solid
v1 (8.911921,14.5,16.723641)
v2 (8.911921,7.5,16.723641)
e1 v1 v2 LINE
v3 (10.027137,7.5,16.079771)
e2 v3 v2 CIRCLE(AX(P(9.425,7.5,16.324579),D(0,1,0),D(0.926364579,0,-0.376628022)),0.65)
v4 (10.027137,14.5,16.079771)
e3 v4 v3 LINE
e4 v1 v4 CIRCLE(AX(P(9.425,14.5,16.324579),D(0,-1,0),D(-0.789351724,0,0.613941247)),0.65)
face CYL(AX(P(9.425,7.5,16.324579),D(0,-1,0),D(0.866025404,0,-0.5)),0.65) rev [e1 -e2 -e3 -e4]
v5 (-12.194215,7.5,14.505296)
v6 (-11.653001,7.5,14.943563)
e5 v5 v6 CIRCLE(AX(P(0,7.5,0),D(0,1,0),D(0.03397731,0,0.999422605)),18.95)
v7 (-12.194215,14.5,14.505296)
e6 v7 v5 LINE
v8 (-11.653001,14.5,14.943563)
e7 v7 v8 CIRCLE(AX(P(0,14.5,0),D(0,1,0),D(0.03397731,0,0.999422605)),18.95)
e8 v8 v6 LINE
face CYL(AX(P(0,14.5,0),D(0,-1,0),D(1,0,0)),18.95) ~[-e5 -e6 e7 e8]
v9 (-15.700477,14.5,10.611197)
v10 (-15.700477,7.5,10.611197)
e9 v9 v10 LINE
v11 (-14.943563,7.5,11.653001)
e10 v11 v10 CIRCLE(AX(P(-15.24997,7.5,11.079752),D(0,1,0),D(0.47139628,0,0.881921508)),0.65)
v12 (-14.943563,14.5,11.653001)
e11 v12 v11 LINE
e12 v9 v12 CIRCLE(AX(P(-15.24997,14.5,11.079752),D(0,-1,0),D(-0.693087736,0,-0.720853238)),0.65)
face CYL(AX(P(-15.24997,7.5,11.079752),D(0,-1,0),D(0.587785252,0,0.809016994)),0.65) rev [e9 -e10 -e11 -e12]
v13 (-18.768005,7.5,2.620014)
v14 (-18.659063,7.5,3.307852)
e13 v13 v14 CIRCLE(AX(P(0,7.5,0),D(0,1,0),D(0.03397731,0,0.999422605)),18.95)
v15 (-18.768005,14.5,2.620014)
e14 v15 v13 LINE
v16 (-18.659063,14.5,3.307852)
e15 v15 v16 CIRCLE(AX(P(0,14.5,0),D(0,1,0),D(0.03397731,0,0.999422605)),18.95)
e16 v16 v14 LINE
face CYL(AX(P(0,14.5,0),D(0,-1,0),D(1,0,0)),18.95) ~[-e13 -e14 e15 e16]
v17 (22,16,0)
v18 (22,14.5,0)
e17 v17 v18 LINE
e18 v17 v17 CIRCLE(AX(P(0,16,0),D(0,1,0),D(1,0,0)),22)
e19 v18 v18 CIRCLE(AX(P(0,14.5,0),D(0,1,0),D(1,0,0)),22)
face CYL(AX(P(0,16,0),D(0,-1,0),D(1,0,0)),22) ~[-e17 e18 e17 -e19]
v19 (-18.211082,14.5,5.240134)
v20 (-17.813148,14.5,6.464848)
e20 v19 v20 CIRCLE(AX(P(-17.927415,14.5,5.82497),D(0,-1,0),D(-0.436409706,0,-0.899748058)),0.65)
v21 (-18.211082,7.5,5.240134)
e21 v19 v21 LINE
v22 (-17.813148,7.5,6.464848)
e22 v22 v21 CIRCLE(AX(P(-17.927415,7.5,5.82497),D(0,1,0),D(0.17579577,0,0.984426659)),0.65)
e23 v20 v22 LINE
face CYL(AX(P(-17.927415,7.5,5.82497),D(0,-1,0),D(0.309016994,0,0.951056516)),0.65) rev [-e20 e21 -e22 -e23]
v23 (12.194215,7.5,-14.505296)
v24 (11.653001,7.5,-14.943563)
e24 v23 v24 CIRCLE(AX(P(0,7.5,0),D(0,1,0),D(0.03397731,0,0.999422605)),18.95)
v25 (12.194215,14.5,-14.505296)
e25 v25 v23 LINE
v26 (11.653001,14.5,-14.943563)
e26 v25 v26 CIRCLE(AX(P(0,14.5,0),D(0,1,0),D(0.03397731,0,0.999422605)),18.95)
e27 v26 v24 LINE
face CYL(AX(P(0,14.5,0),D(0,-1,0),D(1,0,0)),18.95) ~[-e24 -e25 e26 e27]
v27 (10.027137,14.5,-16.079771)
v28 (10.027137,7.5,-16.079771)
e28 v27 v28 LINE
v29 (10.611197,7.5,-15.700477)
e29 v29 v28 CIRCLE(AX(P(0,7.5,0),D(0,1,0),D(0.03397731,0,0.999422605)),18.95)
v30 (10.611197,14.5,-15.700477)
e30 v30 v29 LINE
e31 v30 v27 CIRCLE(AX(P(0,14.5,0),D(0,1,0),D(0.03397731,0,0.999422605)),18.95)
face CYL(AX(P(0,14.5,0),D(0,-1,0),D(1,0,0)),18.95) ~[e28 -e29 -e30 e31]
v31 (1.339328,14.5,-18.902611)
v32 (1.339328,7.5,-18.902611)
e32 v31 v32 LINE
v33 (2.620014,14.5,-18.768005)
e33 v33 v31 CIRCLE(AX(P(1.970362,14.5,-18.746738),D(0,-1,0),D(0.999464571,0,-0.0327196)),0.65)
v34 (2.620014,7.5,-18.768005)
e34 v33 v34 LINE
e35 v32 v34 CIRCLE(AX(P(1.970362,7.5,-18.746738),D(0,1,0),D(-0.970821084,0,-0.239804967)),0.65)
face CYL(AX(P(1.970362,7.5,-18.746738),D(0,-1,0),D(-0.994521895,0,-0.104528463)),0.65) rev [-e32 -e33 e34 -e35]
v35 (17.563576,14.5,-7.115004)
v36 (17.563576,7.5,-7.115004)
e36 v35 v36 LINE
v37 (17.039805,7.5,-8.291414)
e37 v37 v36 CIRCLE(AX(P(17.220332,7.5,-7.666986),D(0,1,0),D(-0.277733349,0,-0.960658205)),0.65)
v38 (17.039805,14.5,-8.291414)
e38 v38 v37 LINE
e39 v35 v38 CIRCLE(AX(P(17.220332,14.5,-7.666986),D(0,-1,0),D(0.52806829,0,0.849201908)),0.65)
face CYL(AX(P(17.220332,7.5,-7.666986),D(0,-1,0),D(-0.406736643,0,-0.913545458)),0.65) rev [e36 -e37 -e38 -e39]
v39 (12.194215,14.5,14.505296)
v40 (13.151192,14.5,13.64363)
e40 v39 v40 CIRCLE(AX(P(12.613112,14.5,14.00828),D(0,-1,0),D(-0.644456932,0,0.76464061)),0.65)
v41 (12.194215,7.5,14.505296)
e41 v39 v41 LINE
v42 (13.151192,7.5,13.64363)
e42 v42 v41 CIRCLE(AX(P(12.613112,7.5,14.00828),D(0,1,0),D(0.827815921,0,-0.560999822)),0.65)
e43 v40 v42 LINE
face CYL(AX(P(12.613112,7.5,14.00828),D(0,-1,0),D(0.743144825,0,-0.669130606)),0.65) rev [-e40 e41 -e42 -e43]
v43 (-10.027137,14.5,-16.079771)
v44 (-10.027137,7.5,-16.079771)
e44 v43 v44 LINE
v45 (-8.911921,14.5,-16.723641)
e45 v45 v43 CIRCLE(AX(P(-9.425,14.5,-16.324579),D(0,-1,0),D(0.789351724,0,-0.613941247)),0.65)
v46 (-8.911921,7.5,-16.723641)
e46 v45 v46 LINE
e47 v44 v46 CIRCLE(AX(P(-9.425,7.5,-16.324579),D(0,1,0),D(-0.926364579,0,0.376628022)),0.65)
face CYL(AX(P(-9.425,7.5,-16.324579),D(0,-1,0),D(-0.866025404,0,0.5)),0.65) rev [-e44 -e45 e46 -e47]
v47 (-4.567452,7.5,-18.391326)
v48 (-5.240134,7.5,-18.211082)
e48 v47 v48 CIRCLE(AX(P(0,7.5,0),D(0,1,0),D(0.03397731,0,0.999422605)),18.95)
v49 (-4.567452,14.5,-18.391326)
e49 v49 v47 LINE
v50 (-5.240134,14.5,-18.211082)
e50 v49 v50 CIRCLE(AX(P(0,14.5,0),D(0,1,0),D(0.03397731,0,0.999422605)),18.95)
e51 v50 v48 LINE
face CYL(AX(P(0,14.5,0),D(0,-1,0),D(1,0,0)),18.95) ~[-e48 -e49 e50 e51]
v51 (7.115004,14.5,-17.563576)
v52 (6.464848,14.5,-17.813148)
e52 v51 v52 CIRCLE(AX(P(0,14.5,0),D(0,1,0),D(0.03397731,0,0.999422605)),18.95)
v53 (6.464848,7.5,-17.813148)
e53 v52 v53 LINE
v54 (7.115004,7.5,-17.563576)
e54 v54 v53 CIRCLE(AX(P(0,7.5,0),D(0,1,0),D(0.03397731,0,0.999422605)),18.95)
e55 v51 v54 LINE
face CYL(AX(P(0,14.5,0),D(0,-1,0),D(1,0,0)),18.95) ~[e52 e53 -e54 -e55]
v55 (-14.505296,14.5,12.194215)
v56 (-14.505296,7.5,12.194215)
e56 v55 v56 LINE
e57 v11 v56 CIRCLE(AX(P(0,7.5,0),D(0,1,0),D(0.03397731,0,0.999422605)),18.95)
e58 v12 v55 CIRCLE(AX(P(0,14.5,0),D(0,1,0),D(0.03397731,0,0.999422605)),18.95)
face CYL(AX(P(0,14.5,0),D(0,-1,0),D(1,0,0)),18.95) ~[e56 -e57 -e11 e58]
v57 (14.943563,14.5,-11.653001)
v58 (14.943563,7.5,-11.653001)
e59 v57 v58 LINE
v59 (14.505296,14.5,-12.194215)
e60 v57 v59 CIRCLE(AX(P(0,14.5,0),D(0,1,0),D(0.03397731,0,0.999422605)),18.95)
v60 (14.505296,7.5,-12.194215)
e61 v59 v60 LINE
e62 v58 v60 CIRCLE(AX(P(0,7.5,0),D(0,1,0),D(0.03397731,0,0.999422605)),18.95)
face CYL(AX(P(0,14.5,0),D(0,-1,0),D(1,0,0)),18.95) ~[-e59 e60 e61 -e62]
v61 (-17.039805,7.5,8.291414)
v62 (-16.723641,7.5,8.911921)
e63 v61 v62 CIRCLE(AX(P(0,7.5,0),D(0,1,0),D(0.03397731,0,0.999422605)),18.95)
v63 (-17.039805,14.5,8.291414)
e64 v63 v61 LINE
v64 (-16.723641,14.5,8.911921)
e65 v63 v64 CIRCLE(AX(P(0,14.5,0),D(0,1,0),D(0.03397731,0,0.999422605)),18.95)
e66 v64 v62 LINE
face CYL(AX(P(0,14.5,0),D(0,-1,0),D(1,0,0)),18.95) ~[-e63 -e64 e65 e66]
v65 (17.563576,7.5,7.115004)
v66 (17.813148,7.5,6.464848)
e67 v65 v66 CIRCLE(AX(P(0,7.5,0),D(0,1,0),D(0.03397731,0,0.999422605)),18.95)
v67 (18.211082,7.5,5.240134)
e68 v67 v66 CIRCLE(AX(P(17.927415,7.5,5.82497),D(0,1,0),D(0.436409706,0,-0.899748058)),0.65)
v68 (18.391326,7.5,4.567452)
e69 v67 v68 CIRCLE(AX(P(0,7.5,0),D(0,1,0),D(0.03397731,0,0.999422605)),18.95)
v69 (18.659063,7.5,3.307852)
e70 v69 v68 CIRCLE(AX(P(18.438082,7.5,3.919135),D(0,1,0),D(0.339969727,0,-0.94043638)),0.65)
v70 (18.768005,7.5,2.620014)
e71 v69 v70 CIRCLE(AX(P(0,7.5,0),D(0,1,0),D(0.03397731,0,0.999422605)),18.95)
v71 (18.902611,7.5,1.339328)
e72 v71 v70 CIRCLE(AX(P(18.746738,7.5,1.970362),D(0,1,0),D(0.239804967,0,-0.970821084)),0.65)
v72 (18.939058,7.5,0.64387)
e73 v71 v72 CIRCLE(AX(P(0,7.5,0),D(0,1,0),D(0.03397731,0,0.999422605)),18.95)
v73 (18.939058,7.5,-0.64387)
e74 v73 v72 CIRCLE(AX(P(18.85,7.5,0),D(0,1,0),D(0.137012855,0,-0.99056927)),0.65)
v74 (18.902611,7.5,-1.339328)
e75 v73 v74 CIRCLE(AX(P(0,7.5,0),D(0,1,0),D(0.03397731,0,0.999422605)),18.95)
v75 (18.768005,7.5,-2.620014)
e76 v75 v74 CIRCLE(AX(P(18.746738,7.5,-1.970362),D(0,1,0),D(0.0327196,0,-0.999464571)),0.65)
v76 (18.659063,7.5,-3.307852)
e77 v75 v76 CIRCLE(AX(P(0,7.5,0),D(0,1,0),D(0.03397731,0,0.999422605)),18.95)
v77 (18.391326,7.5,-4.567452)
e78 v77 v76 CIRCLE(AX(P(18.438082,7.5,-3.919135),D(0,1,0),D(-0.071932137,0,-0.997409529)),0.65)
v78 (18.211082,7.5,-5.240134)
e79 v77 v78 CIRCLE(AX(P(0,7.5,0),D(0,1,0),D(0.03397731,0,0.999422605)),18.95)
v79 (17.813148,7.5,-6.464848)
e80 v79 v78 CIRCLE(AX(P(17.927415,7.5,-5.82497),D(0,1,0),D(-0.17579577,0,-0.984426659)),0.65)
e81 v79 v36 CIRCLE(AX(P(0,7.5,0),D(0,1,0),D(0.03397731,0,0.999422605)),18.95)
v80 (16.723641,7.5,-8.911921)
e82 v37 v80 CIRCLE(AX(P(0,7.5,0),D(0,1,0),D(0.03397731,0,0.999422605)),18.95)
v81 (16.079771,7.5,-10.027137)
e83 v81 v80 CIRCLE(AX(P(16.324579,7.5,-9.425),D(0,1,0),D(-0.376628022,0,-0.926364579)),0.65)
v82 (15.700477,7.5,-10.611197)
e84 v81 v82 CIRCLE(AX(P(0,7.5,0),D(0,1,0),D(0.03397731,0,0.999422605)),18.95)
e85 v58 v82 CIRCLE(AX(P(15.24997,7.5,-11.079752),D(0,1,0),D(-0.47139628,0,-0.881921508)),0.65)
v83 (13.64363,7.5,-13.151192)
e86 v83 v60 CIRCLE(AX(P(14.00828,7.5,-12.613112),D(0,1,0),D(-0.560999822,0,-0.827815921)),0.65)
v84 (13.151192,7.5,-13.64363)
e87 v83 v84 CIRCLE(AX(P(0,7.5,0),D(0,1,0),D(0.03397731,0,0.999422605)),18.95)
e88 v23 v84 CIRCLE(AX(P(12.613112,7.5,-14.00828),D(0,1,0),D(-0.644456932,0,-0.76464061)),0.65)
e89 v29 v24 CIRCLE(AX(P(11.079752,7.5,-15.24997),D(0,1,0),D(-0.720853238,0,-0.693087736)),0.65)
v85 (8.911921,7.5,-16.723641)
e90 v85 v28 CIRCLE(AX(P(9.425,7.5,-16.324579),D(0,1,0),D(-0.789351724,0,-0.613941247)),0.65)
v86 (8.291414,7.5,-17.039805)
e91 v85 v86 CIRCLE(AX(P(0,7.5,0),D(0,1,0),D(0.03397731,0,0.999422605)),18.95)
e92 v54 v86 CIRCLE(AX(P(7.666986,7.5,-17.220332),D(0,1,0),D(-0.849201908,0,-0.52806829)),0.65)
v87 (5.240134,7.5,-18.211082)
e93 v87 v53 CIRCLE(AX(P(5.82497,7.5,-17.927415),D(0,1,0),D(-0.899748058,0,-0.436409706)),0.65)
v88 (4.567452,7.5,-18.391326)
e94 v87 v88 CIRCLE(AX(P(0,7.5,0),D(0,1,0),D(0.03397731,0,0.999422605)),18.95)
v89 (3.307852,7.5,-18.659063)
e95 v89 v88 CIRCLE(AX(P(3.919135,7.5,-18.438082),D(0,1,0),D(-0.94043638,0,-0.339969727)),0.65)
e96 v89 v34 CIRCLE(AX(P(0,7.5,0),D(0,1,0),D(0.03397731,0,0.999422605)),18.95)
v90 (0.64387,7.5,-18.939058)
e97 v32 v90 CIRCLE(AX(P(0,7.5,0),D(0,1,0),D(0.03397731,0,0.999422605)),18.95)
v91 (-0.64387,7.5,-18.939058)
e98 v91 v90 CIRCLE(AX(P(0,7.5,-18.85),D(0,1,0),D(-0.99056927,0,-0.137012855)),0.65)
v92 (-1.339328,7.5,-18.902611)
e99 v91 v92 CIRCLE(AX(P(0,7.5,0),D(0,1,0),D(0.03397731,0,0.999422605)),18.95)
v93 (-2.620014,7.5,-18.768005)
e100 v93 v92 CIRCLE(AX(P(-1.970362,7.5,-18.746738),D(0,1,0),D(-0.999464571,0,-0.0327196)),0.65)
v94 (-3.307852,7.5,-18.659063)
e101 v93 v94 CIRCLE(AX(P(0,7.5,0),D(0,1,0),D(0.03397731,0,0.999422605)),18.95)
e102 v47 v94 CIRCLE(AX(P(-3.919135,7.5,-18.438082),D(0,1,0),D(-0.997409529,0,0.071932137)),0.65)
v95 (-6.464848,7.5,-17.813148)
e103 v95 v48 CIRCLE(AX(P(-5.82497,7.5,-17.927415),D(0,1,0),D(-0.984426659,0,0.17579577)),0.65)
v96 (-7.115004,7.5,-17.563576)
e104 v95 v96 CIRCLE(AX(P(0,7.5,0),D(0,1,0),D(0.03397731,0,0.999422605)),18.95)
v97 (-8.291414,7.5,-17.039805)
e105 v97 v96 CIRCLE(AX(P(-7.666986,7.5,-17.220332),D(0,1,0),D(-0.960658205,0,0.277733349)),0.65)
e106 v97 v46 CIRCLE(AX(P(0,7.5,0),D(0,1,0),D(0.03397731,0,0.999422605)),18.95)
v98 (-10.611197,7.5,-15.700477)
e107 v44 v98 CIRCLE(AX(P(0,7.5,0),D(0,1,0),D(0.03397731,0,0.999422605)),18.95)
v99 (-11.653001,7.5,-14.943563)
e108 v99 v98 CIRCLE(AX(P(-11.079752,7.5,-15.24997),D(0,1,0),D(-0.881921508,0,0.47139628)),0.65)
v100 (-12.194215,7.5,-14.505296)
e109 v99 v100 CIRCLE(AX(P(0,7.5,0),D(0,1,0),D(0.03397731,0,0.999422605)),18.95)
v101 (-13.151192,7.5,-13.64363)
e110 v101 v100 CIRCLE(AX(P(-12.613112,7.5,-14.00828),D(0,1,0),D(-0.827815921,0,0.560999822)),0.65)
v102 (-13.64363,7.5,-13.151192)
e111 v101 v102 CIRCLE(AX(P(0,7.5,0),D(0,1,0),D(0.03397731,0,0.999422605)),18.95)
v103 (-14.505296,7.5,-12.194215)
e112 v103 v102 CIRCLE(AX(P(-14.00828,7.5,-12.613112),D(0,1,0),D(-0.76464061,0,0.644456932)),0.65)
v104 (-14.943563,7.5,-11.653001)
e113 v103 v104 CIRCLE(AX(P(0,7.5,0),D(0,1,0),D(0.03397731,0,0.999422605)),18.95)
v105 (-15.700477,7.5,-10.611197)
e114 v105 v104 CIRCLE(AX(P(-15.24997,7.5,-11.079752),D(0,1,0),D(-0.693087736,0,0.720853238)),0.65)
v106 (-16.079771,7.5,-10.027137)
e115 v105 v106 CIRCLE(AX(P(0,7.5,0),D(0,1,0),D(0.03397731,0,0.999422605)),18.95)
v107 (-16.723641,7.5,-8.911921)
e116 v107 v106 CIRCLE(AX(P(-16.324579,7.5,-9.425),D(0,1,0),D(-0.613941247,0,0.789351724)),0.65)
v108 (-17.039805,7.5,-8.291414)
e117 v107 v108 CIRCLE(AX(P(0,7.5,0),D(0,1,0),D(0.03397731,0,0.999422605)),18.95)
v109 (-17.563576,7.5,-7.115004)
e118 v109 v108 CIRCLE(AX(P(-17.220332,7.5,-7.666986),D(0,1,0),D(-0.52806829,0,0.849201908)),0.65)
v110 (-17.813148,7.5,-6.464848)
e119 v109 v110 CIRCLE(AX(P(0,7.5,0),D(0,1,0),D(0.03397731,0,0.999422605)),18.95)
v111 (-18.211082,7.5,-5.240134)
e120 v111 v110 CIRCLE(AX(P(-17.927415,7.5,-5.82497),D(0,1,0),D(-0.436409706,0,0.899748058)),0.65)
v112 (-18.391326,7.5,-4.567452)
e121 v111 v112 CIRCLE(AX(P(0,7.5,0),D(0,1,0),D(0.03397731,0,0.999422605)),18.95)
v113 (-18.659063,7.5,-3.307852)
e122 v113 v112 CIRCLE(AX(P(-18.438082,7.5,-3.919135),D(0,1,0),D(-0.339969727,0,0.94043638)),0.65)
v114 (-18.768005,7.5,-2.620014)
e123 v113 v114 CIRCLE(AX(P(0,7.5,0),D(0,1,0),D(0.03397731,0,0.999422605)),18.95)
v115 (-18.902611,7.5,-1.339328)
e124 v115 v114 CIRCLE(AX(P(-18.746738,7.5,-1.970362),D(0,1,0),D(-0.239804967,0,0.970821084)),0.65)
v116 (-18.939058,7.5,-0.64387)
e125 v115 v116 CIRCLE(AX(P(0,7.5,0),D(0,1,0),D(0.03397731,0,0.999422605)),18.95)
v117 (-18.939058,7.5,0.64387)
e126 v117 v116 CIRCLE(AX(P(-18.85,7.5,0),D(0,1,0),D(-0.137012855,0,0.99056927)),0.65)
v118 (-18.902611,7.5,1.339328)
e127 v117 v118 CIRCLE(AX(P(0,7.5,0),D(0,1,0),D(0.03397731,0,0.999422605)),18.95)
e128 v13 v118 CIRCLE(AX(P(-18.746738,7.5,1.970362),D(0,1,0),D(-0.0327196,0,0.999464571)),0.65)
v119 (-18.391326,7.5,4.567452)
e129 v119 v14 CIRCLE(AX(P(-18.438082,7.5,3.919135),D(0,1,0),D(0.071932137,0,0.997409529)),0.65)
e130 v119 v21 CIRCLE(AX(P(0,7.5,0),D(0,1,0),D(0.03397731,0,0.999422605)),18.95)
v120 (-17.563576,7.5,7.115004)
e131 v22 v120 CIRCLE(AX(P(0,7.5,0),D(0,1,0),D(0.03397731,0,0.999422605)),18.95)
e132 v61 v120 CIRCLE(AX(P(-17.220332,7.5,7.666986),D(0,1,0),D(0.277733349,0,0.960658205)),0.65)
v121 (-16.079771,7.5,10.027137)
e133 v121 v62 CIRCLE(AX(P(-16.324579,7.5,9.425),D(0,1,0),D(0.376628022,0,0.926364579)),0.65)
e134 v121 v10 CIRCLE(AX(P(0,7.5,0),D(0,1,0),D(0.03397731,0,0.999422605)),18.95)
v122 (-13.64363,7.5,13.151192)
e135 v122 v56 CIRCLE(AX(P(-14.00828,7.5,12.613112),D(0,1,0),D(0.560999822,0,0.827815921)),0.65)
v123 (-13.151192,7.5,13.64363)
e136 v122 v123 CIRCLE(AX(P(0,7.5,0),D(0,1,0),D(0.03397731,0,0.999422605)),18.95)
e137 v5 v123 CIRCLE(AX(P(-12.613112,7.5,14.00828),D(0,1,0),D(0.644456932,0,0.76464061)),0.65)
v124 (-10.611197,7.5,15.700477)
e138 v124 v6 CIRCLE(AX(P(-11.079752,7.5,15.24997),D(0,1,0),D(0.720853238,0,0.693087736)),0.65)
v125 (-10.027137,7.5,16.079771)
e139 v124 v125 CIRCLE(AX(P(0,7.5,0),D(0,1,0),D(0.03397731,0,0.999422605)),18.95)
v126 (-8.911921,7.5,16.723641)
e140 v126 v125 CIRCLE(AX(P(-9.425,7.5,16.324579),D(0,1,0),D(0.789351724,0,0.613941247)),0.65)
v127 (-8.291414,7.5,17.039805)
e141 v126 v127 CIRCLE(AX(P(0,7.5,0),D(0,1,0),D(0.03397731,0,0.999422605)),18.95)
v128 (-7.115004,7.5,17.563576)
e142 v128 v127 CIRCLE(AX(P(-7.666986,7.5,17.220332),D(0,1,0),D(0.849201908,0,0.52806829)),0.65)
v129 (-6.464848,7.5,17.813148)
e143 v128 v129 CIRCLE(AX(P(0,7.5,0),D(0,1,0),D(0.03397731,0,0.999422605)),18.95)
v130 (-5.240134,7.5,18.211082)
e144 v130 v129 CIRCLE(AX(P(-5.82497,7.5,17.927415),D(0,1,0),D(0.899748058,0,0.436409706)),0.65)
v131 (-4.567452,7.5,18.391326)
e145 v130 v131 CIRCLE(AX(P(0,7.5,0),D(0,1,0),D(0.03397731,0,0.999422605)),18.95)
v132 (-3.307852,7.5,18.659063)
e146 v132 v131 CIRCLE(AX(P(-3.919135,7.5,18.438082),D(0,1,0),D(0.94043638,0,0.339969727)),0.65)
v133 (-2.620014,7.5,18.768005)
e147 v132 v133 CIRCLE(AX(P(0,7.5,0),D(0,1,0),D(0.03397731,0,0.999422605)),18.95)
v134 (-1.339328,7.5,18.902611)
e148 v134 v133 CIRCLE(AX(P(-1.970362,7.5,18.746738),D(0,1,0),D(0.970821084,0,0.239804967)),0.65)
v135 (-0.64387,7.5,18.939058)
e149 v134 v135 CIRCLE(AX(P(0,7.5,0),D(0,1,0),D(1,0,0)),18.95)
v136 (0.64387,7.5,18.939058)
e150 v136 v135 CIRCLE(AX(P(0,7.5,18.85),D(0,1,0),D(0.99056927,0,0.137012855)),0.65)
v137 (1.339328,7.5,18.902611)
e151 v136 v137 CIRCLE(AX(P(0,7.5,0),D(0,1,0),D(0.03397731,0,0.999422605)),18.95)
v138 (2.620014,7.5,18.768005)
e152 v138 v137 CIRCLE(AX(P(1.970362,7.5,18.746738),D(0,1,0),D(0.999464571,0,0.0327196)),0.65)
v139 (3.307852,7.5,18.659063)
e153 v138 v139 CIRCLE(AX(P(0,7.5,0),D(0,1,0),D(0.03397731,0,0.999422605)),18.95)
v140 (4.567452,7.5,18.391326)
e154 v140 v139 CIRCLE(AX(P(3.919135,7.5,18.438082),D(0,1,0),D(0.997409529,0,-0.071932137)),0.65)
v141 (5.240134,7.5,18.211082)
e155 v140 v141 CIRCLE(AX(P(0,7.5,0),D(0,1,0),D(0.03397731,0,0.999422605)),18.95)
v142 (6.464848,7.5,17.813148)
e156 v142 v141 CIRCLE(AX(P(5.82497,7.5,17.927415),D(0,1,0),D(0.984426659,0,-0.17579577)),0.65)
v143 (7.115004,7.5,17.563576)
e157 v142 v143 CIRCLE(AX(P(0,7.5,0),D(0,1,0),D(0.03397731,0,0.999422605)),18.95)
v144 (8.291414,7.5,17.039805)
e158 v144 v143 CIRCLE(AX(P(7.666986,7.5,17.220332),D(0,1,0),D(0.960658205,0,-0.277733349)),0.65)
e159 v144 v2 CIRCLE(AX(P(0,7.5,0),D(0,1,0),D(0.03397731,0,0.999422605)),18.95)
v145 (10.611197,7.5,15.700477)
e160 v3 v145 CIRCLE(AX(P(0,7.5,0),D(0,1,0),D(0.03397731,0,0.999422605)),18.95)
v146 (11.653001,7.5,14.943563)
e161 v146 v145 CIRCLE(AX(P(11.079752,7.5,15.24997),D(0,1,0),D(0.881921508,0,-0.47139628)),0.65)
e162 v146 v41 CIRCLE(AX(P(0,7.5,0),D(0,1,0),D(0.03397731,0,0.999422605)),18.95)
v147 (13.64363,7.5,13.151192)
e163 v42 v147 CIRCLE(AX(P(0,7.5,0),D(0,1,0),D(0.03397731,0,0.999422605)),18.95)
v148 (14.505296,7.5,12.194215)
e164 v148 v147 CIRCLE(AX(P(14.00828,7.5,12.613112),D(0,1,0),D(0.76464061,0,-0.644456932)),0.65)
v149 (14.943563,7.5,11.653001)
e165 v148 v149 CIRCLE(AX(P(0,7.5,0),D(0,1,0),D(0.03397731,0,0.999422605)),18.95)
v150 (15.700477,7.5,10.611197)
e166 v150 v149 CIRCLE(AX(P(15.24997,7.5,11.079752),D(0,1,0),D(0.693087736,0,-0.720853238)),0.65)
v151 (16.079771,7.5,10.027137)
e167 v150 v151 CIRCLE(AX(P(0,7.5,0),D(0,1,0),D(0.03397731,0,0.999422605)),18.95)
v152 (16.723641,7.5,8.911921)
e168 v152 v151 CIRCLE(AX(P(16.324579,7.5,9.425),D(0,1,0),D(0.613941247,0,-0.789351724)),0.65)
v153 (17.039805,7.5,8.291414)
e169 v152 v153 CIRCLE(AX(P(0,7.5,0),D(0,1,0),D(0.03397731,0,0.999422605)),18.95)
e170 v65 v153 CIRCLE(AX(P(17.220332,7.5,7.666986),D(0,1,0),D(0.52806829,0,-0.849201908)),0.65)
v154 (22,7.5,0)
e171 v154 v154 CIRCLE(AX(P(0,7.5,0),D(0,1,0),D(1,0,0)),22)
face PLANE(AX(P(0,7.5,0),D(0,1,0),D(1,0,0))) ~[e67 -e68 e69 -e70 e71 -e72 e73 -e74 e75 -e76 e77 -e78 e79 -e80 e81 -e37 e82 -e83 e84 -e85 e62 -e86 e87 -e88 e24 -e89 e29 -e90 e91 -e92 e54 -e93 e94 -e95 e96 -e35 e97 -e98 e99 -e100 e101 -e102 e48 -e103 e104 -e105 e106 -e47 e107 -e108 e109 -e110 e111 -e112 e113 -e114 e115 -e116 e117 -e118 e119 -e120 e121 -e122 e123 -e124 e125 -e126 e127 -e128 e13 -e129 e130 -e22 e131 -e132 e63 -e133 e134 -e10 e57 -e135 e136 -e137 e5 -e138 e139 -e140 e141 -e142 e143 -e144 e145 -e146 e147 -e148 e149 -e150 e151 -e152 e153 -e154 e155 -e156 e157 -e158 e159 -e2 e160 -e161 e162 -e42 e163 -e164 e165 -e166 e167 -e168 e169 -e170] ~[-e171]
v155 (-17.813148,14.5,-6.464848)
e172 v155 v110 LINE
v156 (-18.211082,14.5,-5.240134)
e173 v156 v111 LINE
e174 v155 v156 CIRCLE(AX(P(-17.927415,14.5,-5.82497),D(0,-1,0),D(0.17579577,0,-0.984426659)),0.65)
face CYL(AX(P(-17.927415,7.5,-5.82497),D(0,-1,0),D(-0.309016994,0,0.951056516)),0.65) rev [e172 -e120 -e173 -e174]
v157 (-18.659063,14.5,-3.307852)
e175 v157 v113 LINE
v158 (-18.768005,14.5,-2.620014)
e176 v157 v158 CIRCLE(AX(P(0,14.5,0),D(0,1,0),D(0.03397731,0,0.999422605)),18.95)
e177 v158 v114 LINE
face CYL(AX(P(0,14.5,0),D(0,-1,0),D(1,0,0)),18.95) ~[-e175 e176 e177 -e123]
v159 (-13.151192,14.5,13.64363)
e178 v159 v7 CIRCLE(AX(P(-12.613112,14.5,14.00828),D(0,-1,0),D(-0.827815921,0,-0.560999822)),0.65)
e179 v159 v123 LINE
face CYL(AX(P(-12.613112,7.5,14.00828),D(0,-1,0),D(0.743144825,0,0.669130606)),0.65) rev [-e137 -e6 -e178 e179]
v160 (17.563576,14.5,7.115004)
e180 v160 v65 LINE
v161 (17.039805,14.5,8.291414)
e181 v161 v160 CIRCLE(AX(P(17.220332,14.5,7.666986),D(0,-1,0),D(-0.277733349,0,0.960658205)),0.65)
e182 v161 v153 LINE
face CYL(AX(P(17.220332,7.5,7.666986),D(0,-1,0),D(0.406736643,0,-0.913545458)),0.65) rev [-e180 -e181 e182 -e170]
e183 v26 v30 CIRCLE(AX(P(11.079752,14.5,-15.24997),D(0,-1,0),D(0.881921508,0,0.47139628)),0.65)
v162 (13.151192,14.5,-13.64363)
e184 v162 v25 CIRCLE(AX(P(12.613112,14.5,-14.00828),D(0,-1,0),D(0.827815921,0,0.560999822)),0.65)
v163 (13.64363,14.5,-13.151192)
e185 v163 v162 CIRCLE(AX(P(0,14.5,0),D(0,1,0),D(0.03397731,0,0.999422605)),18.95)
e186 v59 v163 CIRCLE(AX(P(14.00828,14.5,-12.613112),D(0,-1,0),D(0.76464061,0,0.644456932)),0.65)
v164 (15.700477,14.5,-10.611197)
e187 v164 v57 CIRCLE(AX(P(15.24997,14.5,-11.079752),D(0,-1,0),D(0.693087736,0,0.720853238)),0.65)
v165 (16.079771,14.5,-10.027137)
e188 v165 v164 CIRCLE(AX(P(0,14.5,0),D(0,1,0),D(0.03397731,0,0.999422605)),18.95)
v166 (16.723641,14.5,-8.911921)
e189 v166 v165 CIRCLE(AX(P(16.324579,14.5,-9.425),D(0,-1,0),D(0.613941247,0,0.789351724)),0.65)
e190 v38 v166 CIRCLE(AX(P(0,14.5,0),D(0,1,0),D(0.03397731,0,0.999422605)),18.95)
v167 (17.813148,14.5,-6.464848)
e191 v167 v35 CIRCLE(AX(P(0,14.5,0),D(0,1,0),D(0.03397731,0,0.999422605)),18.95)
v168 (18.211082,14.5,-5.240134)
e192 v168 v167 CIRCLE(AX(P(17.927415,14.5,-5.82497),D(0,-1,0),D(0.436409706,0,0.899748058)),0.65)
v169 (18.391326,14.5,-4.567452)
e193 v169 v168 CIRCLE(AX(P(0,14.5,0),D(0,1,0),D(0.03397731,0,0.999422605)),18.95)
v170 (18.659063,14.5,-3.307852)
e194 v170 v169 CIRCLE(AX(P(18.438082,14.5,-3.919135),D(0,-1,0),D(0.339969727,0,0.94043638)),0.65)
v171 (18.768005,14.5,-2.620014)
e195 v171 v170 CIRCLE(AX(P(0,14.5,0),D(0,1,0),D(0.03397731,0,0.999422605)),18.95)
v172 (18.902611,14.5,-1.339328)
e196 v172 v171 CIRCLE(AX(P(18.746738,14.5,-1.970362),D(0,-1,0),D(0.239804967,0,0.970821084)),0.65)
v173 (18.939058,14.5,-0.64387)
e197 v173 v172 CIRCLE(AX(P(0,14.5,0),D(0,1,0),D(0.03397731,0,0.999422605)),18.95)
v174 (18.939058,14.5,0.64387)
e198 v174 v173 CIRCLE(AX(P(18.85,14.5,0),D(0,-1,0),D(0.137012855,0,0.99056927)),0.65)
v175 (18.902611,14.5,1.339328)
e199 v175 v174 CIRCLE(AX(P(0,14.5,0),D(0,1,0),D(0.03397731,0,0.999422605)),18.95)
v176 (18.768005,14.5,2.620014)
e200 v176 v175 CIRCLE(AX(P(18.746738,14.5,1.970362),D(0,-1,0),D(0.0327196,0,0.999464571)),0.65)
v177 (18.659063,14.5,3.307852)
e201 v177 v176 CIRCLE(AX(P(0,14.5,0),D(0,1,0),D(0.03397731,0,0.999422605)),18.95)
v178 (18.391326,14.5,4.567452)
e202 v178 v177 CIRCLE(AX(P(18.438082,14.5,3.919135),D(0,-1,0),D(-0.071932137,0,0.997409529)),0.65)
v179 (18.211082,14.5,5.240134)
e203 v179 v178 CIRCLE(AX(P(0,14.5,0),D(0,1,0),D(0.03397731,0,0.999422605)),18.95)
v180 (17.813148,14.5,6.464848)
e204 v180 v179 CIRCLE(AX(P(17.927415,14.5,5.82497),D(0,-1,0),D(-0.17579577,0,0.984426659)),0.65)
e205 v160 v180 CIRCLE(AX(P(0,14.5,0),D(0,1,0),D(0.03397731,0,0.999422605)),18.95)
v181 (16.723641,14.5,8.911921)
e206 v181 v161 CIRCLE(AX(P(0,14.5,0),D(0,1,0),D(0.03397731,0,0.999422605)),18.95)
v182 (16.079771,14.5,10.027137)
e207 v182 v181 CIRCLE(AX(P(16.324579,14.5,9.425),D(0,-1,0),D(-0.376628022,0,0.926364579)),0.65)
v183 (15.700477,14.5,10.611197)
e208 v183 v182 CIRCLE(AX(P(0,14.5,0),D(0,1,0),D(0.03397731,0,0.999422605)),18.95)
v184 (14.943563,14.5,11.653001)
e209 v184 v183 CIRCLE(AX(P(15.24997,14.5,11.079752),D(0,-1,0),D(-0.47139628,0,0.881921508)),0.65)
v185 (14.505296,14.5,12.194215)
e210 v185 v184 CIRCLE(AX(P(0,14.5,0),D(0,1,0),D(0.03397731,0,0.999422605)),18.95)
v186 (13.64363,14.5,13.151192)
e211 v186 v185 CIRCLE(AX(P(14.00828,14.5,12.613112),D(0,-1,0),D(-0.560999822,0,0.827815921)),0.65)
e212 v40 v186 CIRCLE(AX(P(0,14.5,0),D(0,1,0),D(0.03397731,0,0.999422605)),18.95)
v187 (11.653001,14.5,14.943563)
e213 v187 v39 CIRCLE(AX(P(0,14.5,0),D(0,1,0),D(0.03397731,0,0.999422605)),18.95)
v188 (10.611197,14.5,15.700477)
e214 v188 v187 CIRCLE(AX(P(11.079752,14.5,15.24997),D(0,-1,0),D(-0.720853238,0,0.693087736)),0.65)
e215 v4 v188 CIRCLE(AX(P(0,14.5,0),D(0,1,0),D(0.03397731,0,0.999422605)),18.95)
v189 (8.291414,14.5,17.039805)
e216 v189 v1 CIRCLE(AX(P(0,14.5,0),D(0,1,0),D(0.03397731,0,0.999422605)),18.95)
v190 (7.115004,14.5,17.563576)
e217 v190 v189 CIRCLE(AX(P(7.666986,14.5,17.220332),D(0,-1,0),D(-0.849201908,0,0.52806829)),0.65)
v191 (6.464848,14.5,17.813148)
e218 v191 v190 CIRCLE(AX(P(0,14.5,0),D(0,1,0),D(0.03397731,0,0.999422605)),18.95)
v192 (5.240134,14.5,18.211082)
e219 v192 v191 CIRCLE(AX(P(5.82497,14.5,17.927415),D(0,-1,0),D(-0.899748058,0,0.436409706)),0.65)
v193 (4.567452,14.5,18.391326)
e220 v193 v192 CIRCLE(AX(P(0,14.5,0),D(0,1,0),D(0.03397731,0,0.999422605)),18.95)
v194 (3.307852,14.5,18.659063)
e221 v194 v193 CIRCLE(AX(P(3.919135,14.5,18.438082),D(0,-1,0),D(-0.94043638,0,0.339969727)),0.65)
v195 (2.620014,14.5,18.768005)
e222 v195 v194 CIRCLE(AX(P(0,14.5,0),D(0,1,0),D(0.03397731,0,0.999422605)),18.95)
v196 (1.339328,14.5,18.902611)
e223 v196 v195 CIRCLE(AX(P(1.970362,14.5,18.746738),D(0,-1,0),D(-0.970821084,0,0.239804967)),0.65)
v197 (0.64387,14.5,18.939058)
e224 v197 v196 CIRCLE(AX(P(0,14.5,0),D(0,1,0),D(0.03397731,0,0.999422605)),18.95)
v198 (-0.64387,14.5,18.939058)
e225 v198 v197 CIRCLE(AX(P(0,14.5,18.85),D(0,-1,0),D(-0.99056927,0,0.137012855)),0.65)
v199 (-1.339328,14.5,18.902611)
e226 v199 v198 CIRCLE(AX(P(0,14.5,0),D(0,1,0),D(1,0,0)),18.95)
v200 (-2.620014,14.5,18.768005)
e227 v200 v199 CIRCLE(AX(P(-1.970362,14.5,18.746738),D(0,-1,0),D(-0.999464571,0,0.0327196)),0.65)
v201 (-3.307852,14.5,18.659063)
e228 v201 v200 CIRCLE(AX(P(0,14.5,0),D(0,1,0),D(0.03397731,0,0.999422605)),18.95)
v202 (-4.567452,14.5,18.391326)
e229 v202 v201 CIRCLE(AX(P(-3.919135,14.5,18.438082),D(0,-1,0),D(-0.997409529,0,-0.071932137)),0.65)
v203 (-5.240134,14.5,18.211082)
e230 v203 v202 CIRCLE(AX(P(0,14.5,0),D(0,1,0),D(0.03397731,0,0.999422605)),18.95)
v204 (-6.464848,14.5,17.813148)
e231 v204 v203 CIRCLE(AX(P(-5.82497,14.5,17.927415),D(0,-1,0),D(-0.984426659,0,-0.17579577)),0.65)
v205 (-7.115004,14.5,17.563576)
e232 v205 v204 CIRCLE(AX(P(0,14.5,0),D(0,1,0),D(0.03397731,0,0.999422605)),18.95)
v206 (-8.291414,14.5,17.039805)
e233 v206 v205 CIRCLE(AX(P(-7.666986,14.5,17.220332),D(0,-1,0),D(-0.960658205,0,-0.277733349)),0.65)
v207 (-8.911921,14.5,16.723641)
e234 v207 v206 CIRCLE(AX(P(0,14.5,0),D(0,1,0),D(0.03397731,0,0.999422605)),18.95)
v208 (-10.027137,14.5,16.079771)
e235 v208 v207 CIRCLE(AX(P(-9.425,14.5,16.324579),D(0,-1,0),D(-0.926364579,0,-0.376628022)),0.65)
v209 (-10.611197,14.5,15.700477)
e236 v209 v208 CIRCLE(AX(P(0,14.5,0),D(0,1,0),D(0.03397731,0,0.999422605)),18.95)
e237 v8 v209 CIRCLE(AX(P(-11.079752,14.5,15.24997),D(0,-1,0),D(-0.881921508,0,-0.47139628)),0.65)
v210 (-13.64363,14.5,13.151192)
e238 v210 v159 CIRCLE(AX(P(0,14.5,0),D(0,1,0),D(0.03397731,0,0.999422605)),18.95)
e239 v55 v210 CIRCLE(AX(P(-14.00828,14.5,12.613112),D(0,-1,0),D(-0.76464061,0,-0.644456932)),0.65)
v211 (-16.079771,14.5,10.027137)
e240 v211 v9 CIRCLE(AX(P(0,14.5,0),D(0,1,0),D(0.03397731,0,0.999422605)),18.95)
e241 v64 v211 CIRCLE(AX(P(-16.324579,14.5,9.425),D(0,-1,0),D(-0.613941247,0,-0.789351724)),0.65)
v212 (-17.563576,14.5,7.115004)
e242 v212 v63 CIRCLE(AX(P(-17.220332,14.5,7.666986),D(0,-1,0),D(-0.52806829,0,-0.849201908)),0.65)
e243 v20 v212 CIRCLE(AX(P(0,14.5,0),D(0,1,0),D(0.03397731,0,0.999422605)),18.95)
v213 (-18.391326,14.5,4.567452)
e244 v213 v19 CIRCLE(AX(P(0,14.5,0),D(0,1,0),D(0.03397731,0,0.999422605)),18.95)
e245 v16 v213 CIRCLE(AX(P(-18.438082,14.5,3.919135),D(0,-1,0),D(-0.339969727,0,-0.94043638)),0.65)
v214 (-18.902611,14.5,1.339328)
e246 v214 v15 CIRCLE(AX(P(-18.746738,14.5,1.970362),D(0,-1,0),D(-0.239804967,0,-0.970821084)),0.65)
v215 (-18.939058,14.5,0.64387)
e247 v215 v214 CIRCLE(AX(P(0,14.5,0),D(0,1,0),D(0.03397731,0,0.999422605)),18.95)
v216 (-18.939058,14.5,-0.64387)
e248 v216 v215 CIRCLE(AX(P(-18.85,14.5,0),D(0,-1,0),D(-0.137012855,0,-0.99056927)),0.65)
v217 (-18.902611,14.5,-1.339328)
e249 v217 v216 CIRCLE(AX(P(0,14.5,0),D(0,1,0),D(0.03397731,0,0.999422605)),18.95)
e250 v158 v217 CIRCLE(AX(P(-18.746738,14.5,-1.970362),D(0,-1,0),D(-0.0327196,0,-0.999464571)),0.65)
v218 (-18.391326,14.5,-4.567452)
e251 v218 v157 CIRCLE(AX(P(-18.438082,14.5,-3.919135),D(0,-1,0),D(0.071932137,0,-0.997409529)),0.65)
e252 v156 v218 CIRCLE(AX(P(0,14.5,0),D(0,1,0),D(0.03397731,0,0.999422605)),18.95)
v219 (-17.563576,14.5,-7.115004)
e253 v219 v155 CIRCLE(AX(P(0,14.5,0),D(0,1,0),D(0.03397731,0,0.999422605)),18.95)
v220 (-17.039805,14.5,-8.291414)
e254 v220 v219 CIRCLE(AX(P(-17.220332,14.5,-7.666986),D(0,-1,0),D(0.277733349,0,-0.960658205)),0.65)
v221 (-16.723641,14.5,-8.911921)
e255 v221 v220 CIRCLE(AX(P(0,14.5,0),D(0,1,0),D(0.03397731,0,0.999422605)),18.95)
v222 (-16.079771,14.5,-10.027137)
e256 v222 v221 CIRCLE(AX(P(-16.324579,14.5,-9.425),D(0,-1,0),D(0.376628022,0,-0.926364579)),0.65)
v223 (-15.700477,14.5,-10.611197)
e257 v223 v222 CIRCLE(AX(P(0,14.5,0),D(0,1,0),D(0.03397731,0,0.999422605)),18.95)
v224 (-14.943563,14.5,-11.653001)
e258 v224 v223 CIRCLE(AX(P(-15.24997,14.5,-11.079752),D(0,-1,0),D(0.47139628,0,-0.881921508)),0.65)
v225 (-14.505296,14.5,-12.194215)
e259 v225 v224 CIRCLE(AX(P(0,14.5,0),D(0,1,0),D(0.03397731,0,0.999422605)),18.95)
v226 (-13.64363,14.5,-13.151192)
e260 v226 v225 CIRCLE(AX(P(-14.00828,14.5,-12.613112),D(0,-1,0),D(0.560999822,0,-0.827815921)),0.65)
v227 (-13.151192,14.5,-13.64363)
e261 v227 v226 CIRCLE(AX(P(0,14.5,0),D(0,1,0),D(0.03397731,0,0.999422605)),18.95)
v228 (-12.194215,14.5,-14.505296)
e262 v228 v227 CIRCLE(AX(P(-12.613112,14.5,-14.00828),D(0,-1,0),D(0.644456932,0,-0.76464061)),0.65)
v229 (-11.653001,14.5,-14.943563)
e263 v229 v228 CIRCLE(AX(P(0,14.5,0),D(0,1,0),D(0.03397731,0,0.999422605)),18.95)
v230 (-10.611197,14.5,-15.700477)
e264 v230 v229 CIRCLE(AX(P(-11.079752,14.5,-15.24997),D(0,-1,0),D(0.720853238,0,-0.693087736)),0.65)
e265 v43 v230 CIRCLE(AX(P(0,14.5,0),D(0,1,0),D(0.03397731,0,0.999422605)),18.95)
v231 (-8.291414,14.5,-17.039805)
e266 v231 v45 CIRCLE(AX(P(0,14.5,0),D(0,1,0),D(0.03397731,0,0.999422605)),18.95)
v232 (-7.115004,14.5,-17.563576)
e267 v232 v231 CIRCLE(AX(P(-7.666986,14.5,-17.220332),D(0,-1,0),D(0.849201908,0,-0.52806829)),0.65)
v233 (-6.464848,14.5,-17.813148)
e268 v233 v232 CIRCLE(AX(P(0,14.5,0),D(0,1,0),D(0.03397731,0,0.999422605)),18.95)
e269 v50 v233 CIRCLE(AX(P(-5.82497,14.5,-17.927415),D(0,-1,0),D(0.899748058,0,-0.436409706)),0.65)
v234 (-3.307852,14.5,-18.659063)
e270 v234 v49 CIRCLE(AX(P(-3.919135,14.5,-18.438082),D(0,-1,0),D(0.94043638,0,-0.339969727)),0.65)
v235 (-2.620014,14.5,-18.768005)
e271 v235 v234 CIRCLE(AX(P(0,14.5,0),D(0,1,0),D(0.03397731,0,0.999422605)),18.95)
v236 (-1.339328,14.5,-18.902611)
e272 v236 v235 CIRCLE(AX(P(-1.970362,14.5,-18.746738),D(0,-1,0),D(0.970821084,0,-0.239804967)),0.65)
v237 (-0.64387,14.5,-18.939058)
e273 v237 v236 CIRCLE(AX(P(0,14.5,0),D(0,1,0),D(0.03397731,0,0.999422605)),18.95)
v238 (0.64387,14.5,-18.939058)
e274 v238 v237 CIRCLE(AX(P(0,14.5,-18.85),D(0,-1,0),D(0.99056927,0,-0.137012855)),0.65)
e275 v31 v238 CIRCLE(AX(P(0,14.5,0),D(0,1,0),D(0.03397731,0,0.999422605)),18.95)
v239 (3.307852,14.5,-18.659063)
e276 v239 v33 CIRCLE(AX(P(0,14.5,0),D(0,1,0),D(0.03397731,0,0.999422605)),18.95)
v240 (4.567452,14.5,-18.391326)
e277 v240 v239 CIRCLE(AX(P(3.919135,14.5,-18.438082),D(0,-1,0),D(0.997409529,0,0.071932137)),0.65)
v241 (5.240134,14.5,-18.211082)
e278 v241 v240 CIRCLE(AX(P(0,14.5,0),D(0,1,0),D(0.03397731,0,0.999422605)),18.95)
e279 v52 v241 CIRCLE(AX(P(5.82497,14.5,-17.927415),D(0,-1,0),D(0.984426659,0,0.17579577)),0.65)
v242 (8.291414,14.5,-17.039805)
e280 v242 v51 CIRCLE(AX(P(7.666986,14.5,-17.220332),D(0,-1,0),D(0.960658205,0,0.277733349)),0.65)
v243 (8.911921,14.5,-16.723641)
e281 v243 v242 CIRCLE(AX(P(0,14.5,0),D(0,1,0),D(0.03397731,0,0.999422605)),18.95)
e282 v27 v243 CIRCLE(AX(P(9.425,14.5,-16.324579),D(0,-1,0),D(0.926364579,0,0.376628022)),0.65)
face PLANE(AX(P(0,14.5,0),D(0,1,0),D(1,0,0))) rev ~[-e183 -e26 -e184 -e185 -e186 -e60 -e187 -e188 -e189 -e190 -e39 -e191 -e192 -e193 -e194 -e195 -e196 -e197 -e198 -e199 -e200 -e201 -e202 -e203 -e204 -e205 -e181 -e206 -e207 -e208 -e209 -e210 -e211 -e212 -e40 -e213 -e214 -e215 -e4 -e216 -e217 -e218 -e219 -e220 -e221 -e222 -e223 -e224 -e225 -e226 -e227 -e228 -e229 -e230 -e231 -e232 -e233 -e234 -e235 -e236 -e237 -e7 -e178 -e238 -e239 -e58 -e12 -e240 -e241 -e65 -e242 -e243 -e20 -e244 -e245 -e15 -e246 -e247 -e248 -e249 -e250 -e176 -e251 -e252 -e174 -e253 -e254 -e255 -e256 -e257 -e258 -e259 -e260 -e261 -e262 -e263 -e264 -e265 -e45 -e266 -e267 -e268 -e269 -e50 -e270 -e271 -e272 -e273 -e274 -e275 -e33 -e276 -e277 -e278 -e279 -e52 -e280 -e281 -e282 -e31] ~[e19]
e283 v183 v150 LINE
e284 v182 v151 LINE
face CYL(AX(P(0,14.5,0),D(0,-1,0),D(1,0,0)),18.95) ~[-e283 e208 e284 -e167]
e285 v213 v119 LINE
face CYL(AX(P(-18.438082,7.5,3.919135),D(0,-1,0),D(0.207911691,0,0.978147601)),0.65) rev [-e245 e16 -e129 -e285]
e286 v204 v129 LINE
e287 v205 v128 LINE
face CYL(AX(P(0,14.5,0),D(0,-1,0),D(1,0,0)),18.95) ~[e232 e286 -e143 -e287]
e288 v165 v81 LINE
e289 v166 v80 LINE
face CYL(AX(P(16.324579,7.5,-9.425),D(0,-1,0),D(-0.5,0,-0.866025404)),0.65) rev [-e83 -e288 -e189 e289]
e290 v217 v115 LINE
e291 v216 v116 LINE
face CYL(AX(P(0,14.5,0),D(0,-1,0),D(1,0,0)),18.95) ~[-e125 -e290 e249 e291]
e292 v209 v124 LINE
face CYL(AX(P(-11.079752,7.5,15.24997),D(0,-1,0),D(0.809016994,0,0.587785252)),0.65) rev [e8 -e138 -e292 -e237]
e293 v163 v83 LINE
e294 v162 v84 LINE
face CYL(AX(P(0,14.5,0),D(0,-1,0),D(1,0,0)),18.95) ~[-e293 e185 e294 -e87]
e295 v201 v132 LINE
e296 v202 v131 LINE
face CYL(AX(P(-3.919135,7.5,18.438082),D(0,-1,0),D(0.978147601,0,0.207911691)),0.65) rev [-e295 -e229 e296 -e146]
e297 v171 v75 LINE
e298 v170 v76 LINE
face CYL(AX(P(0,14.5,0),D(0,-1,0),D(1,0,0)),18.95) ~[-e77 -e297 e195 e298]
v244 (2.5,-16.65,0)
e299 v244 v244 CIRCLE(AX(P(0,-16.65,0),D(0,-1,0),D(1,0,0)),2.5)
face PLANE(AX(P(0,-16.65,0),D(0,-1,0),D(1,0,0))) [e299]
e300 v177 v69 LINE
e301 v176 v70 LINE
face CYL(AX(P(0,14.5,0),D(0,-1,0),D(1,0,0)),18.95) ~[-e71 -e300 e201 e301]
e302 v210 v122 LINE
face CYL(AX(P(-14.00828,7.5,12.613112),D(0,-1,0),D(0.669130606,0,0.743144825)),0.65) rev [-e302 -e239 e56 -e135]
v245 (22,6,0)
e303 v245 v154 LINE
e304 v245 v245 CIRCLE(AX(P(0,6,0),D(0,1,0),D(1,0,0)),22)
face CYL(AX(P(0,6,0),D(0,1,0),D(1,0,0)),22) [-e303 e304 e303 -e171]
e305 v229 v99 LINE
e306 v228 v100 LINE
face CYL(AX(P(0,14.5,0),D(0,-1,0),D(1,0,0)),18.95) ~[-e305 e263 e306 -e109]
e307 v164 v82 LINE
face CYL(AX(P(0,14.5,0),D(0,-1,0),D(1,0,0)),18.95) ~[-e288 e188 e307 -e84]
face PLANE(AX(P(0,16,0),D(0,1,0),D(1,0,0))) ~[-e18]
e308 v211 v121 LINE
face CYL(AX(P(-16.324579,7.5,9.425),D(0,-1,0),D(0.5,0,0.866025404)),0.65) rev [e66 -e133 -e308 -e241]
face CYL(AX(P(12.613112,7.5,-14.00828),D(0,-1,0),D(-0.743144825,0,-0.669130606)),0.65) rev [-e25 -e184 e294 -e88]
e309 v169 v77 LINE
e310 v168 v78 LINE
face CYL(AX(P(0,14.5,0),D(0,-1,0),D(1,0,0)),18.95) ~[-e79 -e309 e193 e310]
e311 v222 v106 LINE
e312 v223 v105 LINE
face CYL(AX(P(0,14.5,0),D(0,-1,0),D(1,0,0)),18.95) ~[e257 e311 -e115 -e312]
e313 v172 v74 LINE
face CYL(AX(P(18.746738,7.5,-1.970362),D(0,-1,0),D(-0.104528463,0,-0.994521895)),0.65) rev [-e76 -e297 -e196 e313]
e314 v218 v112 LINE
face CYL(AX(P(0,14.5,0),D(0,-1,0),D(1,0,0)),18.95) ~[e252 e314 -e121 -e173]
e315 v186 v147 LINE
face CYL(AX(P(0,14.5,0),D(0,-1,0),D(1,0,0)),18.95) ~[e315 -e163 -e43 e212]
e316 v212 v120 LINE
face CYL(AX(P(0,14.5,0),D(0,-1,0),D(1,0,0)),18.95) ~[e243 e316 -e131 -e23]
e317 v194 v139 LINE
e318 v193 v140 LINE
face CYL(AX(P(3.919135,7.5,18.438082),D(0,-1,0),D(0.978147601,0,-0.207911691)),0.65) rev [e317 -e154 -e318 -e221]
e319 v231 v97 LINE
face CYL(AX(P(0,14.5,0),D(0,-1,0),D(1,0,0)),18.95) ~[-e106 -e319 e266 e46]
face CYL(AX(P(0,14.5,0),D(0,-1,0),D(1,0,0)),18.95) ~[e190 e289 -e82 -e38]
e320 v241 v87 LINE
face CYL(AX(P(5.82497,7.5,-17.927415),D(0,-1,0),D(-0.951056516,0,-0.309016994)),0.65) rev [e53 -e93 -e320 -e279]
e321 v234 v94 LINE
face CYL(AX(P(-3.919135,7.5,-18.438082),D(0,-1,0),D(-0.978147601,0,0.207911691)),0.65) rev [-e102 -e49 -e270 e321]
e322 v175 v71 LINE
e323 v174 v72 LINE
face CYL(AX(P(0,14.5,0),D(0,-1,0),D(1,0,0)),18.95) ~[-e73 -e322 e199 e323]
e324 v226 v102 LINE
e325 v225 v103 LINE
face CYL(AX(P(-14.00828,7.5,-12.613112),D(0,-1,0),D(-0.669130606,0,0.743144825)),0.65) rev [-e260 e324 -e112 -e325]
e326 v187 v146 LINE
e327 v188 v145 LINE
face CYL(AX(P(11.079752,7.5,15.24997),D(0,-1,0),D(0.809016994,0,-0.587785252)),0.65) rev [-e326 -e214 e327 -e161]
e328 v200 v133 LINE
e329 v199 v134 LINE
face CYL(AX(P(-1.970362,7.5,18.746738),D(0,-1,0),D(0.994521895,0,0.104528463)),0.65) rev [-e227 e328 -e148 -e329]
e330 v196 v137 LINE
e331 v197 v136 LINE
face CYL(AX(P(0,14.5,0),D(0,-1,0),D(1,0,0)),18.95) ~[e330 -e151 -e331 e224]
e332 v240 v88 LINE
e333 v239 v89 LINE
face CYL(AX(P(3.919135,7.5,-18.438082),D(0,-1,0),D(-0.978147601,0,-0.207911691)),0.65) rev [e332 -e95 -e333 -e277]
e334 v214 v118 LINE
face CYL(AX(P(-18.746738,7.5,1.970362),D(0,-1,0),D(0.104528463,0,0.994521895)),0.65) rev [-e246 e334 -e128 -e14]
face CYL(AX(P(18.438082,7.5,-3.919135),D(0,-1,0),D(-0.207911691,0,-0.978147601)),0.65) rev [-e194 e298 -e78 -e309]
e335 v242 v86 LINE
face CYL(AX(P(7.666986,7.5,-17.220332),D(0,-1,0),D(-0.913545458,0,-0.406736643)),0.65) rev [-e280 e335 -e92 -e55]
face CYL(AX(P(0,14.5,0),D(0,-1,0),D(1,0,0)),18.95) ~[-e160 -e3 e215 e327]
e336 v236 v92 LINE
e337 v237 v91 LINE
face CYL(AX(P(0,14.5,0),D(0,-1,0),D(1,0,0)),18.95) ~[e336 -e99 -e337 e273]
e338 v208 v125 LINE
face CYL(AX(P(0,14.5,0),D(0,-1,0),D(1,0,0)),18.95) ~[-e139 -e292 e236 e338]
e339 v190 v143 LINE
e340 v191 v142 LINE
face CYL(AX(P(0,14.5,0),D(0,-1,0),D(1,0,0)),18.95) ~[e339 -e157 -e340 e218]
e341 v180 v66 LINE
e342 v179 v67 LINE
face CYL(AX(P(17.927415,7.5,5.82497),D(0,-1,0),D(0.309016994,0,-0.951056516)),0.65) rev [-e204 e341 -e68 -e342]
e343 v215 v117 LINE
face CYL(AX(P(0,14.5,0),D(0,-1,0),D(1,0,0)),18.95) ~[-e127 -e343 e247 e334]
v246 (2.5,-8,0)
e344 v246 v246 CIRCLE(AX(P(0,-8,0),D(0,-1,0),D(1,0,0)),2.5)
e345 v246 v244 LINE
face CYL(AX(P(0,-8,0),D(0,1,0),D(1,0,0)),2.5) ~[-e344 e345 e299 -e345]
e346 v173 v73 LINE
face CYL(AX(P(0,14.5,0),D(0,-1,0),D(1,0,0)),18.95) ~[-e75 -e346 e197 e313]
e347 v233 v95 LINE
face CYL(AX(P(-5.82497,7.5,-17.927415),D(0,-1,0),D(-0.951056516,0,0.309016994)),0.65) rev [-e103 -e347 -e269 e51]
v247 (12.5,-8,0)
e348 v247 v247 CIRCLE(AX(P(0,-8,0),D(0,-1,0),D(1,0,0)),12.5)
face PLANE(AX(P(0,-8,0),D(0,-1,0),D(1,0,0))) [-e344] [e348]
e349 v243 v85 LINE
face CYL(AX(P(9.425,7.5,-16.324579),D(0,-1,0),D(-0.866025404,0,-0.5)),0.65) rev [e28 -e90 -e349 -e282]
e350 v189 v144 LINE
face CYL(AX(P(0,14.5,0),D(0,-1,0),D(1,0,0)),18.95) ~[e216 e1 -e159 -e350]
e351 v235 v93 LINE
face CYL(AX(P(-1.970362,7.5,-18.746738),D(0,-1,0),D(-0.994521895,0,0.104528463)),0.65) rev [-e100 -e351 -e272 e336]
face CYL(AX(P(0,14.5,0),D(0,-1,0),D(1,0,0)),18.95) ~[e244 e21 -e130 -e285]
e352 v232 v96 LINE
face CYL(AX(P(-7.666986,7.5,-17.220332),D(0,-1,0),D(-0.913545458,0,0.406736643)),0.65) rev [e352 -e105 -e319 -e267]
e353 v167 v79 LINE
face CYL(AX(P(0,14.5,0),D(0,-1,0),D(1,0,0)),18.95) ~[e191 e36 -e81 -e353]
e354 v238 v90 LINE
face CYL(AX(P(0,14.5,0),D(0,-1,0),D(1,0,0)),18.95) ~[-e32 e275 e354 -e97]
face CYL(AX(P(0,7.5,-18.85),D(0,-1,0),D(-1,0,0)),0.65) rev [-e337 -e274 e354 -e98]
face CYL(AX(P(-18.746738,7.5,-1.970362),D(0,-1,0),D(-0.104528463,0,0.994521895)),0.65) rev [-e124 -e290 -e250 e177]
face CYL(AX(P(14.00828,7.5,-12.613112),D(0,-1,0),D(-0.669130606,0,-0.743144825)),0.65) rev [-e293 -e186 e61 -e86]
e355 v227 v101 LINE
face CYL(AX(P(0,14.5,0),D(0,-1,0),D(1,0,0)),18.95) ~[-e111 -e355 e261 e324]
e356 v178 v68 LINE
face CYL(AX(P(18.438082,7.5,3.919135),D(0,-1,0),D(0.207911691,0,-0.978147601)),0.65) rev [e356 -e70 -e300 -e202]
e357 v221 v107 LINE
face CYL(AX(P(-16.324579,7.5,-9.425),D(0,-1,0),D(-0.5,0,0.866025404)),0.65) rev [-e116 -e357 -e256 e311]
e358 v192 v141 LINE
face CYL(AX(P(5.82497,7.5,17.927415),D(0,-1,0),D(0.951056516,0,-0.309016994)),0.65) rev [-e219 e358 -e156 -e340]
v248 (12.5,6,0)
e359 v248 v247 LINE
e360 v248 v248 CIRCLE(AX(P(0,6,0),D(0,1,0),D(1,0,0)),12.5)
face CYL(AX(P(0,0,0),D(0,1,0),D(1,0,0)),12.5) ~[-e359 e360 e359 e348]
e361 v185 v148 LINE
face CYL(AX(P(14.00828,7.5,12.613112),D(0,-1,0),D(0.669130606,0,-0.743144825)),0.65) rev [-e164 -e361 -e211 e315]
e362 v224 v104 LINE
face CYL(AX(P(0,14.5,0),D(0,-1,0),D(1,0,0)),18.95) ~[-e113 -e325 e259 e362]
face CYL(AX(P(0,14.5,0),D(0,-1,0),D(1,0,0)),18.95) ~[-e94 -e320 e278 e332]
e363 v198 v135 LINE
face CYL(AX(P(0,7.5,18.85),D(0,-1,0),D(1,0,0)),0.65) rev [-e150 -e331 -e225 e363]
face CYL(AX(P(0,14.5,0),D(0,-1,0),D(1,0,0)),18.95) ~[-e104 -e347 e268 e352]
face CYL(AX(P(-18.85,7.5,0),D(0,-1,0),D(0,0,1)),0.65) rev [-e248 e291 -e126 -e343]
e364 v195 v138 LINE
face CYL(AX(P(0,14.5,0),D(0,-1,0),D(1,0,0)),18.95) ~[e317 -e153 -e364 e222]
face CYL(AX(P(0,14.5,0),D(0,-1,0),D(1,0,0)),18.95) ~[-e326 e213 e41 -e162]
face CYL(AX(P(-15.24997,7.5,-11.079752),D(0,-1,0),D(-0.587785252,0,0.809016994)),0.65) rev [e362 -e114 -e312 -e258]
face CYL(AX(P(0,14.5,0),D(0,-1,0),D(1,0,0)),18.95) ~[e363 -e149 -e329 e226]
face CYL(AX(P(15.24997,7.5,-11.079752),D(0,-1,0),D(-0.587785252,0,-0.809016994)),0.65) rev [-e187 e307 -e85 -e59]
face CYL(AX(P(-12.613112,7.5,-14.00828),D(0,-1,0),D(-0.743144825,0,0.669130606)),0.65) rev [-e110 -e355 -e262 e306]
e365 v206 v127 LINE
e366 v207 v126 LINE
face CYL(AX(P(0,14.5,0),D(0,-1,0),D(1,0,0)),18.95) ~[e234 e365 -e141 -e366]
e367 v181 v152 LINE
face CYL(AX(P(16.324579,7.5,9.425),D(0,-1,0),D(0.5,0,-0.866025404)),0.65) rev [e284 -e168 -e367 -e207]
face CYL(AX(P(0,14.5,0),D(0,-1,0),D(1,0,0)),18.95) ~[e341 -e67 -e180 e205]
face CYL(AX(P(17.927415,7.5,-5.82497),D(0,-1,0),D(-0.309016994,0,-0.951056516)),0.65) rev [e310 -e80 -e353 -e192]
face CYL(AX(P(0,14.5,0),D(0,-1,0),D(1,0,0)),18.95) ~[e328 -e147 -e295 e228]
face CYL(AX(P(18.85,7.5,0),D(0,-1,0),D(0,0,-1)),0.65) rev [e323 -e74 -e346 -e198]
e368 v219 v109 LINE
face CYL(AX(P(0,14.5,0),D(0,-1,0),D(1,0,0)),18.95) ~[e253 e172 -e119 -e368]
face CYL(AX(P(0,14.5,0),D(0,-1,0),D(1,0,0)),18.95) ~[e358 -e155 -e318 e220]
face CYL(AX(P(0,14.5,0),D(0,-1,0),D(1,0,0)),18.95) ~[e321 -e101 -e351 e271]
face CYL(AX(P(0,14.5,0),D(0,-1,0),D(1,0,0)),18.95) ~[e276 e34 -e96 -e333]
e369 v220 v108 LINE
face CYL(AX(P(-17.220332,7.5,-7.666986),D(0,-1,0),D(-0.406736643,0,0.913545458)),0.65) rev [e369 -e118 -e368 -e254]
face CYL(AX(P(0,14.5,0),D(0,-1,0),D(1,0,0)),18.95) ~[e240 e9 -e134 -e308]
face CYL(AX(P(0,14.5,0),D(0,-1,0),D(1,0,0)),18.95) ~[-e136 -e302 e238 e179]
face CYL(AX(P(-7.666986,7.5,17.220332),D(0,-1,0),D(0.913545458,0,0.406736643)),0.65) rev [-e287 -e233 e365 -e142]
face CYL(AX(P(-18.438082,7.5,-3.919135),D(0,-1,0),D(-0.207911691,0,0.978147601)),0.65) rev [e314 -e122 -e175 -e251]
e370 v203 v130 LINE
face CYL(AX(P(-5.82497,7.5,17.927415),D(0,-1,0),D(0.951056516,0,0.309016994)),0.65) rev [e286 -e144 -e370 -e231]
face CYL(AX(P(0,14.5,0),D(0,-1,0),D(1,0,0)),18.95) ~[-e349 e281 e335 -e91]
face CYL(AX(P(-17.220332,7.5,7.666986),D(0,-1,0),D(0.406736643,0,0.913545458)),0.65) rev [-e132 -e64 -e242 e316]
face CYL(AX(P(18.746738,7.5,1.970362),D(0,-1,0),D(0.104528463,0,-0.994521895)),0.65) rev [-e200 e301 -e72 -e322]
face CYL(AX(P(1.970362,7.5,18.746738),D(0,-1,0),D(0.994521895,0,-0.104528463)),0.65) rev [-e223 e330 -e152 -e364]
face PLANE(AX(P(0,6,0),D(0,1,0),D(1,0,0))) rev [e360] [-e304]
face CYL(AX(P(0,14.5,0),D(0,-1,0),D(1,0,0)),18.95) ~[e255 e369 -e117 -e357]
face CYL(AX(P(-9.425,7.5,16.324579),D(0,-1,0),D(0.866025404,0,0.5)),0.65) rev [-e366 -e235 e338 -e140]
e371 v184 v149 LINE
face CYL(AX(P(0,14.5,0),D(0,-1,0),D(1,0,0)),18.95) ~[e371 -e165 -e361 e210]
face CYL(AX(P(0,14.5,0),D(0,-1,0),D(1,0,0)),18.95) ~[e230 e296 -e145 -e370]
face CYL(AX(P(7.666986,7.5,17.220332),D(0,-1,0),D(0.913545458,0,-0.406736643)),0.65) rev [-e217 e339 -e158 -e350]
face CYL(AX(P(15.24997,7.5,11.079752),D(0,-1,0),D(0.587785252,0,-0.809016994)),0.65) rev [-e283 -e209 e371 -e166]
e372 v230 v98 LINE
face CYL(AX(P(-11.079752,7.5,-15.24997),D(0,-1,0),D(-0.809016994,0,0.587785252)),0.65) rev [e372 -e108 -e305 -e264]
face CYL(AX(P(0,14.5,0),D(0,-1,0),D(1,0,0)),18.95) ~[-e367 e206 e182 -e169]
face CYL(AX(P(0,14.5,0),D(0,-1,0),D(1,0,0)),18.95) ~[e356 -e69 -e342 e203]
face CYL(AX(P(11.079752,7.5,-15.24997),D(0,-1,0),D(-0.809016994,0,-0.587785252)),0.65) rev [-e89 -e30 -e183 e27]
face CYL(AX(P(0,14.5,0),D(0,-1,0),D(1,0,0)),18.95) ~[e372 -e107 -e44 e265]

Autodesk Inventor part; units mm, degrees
ref_plane "YZ Plane" through (0, 0, 0) normal (1, 0, 0) x (0, 1, 0)
ref_plane "XZ Plane" through (0, 0, 0) normal (0, 1, 0) x (-1, 0, 0)
ref_plane "XY Plane" through (0, 0, 0) normal (0, 0, 1) x (1, 0, 0)
sketch "Sketch1" plane through (0, 0, 0) normal (0, 0, 1) x (1, 0, 0)
  line L0 (0, 0) -> (0, 16) construction
  line L1 (0, 16) -> (4, 16) construction
  line L2 (4, 16) -> (22, 16)
  line L3 (22, 16) -> (22, 14.5)
  line L4 (22, 14.5) -> (18.95, 14.5)
  line L5 (18.95, 14.5) -> (18.95, 7.5)
  line L6 (18.95, 7.5) -> (22, 7.5)
  line L7 (4, 0) -> (4, 16)
  line L8 (4, 0) -> (12.5, 0)
  line L9 (12.5, 0) -> (12.5, 6)
  line L10 (12.5, 6) -> (22, 6)
  line L11 (22, 6) -> (22, 7.5)
  dimension "d0" = 4
  dimension "d1" = 7
  dimension "d4" = 1.5
  dimension "d6" = 18.95
  dimension "d15" = 22
  dimension "d16" = 6
  dimension "d17" = 12.5
revolve "Revolution1" add sketch "Sketch1" angle 360 about axis through (0, 0, 0) along (0, 1, 0)
sketch "Sketch2" plane through (0, 7.5, 0) normal (0, 1, 0) x (1, 0, 0)
  line L0 (0, 0) -> (0, -18.85)
  circle A0 centre (0, -18.85) radius 0.65
  dimension "d8" = 1.3
  dimension "d9" = 18.85
extrude "Extrusion1" cut sketch "Sketch2" along normal up to surface (7 mm away)
pattern_circular "Circular Pattern1" count 60 over 360 about axis through (0, 11, 0) along (0, -1, 0) of "Extrusion1"
sketch "Sketch3" plane through (0, 0, 0) normal (0, -1, 0) x (1, 0, 0)
  circle A0 centre (0, 0) radius 4
extrude "Extrusion2" add sketch "Sketch3" along normal blind 7.5 and the other way blind 16
sketch "Sketch4" plane through (0, 0, 0) normal (0, -1, 0) x (1, 0, 0)
  circle A0 centre (0, 0) radius 12.5
extrude "Extrusion3" add sketch "Sketch4" along normal blind 8
sketch "Sketch5" plane through (0, -8, 0) normal (0, -1, 0) x (1, 0, 0)
  circle A0 centre (0, 0) radius 2.5
  dimension "d24" = 5
extrude "Extrusion4" add sketch "Sketch5" along normal blind 8.65
properties part number "GT2 60T Drive Pulley"
